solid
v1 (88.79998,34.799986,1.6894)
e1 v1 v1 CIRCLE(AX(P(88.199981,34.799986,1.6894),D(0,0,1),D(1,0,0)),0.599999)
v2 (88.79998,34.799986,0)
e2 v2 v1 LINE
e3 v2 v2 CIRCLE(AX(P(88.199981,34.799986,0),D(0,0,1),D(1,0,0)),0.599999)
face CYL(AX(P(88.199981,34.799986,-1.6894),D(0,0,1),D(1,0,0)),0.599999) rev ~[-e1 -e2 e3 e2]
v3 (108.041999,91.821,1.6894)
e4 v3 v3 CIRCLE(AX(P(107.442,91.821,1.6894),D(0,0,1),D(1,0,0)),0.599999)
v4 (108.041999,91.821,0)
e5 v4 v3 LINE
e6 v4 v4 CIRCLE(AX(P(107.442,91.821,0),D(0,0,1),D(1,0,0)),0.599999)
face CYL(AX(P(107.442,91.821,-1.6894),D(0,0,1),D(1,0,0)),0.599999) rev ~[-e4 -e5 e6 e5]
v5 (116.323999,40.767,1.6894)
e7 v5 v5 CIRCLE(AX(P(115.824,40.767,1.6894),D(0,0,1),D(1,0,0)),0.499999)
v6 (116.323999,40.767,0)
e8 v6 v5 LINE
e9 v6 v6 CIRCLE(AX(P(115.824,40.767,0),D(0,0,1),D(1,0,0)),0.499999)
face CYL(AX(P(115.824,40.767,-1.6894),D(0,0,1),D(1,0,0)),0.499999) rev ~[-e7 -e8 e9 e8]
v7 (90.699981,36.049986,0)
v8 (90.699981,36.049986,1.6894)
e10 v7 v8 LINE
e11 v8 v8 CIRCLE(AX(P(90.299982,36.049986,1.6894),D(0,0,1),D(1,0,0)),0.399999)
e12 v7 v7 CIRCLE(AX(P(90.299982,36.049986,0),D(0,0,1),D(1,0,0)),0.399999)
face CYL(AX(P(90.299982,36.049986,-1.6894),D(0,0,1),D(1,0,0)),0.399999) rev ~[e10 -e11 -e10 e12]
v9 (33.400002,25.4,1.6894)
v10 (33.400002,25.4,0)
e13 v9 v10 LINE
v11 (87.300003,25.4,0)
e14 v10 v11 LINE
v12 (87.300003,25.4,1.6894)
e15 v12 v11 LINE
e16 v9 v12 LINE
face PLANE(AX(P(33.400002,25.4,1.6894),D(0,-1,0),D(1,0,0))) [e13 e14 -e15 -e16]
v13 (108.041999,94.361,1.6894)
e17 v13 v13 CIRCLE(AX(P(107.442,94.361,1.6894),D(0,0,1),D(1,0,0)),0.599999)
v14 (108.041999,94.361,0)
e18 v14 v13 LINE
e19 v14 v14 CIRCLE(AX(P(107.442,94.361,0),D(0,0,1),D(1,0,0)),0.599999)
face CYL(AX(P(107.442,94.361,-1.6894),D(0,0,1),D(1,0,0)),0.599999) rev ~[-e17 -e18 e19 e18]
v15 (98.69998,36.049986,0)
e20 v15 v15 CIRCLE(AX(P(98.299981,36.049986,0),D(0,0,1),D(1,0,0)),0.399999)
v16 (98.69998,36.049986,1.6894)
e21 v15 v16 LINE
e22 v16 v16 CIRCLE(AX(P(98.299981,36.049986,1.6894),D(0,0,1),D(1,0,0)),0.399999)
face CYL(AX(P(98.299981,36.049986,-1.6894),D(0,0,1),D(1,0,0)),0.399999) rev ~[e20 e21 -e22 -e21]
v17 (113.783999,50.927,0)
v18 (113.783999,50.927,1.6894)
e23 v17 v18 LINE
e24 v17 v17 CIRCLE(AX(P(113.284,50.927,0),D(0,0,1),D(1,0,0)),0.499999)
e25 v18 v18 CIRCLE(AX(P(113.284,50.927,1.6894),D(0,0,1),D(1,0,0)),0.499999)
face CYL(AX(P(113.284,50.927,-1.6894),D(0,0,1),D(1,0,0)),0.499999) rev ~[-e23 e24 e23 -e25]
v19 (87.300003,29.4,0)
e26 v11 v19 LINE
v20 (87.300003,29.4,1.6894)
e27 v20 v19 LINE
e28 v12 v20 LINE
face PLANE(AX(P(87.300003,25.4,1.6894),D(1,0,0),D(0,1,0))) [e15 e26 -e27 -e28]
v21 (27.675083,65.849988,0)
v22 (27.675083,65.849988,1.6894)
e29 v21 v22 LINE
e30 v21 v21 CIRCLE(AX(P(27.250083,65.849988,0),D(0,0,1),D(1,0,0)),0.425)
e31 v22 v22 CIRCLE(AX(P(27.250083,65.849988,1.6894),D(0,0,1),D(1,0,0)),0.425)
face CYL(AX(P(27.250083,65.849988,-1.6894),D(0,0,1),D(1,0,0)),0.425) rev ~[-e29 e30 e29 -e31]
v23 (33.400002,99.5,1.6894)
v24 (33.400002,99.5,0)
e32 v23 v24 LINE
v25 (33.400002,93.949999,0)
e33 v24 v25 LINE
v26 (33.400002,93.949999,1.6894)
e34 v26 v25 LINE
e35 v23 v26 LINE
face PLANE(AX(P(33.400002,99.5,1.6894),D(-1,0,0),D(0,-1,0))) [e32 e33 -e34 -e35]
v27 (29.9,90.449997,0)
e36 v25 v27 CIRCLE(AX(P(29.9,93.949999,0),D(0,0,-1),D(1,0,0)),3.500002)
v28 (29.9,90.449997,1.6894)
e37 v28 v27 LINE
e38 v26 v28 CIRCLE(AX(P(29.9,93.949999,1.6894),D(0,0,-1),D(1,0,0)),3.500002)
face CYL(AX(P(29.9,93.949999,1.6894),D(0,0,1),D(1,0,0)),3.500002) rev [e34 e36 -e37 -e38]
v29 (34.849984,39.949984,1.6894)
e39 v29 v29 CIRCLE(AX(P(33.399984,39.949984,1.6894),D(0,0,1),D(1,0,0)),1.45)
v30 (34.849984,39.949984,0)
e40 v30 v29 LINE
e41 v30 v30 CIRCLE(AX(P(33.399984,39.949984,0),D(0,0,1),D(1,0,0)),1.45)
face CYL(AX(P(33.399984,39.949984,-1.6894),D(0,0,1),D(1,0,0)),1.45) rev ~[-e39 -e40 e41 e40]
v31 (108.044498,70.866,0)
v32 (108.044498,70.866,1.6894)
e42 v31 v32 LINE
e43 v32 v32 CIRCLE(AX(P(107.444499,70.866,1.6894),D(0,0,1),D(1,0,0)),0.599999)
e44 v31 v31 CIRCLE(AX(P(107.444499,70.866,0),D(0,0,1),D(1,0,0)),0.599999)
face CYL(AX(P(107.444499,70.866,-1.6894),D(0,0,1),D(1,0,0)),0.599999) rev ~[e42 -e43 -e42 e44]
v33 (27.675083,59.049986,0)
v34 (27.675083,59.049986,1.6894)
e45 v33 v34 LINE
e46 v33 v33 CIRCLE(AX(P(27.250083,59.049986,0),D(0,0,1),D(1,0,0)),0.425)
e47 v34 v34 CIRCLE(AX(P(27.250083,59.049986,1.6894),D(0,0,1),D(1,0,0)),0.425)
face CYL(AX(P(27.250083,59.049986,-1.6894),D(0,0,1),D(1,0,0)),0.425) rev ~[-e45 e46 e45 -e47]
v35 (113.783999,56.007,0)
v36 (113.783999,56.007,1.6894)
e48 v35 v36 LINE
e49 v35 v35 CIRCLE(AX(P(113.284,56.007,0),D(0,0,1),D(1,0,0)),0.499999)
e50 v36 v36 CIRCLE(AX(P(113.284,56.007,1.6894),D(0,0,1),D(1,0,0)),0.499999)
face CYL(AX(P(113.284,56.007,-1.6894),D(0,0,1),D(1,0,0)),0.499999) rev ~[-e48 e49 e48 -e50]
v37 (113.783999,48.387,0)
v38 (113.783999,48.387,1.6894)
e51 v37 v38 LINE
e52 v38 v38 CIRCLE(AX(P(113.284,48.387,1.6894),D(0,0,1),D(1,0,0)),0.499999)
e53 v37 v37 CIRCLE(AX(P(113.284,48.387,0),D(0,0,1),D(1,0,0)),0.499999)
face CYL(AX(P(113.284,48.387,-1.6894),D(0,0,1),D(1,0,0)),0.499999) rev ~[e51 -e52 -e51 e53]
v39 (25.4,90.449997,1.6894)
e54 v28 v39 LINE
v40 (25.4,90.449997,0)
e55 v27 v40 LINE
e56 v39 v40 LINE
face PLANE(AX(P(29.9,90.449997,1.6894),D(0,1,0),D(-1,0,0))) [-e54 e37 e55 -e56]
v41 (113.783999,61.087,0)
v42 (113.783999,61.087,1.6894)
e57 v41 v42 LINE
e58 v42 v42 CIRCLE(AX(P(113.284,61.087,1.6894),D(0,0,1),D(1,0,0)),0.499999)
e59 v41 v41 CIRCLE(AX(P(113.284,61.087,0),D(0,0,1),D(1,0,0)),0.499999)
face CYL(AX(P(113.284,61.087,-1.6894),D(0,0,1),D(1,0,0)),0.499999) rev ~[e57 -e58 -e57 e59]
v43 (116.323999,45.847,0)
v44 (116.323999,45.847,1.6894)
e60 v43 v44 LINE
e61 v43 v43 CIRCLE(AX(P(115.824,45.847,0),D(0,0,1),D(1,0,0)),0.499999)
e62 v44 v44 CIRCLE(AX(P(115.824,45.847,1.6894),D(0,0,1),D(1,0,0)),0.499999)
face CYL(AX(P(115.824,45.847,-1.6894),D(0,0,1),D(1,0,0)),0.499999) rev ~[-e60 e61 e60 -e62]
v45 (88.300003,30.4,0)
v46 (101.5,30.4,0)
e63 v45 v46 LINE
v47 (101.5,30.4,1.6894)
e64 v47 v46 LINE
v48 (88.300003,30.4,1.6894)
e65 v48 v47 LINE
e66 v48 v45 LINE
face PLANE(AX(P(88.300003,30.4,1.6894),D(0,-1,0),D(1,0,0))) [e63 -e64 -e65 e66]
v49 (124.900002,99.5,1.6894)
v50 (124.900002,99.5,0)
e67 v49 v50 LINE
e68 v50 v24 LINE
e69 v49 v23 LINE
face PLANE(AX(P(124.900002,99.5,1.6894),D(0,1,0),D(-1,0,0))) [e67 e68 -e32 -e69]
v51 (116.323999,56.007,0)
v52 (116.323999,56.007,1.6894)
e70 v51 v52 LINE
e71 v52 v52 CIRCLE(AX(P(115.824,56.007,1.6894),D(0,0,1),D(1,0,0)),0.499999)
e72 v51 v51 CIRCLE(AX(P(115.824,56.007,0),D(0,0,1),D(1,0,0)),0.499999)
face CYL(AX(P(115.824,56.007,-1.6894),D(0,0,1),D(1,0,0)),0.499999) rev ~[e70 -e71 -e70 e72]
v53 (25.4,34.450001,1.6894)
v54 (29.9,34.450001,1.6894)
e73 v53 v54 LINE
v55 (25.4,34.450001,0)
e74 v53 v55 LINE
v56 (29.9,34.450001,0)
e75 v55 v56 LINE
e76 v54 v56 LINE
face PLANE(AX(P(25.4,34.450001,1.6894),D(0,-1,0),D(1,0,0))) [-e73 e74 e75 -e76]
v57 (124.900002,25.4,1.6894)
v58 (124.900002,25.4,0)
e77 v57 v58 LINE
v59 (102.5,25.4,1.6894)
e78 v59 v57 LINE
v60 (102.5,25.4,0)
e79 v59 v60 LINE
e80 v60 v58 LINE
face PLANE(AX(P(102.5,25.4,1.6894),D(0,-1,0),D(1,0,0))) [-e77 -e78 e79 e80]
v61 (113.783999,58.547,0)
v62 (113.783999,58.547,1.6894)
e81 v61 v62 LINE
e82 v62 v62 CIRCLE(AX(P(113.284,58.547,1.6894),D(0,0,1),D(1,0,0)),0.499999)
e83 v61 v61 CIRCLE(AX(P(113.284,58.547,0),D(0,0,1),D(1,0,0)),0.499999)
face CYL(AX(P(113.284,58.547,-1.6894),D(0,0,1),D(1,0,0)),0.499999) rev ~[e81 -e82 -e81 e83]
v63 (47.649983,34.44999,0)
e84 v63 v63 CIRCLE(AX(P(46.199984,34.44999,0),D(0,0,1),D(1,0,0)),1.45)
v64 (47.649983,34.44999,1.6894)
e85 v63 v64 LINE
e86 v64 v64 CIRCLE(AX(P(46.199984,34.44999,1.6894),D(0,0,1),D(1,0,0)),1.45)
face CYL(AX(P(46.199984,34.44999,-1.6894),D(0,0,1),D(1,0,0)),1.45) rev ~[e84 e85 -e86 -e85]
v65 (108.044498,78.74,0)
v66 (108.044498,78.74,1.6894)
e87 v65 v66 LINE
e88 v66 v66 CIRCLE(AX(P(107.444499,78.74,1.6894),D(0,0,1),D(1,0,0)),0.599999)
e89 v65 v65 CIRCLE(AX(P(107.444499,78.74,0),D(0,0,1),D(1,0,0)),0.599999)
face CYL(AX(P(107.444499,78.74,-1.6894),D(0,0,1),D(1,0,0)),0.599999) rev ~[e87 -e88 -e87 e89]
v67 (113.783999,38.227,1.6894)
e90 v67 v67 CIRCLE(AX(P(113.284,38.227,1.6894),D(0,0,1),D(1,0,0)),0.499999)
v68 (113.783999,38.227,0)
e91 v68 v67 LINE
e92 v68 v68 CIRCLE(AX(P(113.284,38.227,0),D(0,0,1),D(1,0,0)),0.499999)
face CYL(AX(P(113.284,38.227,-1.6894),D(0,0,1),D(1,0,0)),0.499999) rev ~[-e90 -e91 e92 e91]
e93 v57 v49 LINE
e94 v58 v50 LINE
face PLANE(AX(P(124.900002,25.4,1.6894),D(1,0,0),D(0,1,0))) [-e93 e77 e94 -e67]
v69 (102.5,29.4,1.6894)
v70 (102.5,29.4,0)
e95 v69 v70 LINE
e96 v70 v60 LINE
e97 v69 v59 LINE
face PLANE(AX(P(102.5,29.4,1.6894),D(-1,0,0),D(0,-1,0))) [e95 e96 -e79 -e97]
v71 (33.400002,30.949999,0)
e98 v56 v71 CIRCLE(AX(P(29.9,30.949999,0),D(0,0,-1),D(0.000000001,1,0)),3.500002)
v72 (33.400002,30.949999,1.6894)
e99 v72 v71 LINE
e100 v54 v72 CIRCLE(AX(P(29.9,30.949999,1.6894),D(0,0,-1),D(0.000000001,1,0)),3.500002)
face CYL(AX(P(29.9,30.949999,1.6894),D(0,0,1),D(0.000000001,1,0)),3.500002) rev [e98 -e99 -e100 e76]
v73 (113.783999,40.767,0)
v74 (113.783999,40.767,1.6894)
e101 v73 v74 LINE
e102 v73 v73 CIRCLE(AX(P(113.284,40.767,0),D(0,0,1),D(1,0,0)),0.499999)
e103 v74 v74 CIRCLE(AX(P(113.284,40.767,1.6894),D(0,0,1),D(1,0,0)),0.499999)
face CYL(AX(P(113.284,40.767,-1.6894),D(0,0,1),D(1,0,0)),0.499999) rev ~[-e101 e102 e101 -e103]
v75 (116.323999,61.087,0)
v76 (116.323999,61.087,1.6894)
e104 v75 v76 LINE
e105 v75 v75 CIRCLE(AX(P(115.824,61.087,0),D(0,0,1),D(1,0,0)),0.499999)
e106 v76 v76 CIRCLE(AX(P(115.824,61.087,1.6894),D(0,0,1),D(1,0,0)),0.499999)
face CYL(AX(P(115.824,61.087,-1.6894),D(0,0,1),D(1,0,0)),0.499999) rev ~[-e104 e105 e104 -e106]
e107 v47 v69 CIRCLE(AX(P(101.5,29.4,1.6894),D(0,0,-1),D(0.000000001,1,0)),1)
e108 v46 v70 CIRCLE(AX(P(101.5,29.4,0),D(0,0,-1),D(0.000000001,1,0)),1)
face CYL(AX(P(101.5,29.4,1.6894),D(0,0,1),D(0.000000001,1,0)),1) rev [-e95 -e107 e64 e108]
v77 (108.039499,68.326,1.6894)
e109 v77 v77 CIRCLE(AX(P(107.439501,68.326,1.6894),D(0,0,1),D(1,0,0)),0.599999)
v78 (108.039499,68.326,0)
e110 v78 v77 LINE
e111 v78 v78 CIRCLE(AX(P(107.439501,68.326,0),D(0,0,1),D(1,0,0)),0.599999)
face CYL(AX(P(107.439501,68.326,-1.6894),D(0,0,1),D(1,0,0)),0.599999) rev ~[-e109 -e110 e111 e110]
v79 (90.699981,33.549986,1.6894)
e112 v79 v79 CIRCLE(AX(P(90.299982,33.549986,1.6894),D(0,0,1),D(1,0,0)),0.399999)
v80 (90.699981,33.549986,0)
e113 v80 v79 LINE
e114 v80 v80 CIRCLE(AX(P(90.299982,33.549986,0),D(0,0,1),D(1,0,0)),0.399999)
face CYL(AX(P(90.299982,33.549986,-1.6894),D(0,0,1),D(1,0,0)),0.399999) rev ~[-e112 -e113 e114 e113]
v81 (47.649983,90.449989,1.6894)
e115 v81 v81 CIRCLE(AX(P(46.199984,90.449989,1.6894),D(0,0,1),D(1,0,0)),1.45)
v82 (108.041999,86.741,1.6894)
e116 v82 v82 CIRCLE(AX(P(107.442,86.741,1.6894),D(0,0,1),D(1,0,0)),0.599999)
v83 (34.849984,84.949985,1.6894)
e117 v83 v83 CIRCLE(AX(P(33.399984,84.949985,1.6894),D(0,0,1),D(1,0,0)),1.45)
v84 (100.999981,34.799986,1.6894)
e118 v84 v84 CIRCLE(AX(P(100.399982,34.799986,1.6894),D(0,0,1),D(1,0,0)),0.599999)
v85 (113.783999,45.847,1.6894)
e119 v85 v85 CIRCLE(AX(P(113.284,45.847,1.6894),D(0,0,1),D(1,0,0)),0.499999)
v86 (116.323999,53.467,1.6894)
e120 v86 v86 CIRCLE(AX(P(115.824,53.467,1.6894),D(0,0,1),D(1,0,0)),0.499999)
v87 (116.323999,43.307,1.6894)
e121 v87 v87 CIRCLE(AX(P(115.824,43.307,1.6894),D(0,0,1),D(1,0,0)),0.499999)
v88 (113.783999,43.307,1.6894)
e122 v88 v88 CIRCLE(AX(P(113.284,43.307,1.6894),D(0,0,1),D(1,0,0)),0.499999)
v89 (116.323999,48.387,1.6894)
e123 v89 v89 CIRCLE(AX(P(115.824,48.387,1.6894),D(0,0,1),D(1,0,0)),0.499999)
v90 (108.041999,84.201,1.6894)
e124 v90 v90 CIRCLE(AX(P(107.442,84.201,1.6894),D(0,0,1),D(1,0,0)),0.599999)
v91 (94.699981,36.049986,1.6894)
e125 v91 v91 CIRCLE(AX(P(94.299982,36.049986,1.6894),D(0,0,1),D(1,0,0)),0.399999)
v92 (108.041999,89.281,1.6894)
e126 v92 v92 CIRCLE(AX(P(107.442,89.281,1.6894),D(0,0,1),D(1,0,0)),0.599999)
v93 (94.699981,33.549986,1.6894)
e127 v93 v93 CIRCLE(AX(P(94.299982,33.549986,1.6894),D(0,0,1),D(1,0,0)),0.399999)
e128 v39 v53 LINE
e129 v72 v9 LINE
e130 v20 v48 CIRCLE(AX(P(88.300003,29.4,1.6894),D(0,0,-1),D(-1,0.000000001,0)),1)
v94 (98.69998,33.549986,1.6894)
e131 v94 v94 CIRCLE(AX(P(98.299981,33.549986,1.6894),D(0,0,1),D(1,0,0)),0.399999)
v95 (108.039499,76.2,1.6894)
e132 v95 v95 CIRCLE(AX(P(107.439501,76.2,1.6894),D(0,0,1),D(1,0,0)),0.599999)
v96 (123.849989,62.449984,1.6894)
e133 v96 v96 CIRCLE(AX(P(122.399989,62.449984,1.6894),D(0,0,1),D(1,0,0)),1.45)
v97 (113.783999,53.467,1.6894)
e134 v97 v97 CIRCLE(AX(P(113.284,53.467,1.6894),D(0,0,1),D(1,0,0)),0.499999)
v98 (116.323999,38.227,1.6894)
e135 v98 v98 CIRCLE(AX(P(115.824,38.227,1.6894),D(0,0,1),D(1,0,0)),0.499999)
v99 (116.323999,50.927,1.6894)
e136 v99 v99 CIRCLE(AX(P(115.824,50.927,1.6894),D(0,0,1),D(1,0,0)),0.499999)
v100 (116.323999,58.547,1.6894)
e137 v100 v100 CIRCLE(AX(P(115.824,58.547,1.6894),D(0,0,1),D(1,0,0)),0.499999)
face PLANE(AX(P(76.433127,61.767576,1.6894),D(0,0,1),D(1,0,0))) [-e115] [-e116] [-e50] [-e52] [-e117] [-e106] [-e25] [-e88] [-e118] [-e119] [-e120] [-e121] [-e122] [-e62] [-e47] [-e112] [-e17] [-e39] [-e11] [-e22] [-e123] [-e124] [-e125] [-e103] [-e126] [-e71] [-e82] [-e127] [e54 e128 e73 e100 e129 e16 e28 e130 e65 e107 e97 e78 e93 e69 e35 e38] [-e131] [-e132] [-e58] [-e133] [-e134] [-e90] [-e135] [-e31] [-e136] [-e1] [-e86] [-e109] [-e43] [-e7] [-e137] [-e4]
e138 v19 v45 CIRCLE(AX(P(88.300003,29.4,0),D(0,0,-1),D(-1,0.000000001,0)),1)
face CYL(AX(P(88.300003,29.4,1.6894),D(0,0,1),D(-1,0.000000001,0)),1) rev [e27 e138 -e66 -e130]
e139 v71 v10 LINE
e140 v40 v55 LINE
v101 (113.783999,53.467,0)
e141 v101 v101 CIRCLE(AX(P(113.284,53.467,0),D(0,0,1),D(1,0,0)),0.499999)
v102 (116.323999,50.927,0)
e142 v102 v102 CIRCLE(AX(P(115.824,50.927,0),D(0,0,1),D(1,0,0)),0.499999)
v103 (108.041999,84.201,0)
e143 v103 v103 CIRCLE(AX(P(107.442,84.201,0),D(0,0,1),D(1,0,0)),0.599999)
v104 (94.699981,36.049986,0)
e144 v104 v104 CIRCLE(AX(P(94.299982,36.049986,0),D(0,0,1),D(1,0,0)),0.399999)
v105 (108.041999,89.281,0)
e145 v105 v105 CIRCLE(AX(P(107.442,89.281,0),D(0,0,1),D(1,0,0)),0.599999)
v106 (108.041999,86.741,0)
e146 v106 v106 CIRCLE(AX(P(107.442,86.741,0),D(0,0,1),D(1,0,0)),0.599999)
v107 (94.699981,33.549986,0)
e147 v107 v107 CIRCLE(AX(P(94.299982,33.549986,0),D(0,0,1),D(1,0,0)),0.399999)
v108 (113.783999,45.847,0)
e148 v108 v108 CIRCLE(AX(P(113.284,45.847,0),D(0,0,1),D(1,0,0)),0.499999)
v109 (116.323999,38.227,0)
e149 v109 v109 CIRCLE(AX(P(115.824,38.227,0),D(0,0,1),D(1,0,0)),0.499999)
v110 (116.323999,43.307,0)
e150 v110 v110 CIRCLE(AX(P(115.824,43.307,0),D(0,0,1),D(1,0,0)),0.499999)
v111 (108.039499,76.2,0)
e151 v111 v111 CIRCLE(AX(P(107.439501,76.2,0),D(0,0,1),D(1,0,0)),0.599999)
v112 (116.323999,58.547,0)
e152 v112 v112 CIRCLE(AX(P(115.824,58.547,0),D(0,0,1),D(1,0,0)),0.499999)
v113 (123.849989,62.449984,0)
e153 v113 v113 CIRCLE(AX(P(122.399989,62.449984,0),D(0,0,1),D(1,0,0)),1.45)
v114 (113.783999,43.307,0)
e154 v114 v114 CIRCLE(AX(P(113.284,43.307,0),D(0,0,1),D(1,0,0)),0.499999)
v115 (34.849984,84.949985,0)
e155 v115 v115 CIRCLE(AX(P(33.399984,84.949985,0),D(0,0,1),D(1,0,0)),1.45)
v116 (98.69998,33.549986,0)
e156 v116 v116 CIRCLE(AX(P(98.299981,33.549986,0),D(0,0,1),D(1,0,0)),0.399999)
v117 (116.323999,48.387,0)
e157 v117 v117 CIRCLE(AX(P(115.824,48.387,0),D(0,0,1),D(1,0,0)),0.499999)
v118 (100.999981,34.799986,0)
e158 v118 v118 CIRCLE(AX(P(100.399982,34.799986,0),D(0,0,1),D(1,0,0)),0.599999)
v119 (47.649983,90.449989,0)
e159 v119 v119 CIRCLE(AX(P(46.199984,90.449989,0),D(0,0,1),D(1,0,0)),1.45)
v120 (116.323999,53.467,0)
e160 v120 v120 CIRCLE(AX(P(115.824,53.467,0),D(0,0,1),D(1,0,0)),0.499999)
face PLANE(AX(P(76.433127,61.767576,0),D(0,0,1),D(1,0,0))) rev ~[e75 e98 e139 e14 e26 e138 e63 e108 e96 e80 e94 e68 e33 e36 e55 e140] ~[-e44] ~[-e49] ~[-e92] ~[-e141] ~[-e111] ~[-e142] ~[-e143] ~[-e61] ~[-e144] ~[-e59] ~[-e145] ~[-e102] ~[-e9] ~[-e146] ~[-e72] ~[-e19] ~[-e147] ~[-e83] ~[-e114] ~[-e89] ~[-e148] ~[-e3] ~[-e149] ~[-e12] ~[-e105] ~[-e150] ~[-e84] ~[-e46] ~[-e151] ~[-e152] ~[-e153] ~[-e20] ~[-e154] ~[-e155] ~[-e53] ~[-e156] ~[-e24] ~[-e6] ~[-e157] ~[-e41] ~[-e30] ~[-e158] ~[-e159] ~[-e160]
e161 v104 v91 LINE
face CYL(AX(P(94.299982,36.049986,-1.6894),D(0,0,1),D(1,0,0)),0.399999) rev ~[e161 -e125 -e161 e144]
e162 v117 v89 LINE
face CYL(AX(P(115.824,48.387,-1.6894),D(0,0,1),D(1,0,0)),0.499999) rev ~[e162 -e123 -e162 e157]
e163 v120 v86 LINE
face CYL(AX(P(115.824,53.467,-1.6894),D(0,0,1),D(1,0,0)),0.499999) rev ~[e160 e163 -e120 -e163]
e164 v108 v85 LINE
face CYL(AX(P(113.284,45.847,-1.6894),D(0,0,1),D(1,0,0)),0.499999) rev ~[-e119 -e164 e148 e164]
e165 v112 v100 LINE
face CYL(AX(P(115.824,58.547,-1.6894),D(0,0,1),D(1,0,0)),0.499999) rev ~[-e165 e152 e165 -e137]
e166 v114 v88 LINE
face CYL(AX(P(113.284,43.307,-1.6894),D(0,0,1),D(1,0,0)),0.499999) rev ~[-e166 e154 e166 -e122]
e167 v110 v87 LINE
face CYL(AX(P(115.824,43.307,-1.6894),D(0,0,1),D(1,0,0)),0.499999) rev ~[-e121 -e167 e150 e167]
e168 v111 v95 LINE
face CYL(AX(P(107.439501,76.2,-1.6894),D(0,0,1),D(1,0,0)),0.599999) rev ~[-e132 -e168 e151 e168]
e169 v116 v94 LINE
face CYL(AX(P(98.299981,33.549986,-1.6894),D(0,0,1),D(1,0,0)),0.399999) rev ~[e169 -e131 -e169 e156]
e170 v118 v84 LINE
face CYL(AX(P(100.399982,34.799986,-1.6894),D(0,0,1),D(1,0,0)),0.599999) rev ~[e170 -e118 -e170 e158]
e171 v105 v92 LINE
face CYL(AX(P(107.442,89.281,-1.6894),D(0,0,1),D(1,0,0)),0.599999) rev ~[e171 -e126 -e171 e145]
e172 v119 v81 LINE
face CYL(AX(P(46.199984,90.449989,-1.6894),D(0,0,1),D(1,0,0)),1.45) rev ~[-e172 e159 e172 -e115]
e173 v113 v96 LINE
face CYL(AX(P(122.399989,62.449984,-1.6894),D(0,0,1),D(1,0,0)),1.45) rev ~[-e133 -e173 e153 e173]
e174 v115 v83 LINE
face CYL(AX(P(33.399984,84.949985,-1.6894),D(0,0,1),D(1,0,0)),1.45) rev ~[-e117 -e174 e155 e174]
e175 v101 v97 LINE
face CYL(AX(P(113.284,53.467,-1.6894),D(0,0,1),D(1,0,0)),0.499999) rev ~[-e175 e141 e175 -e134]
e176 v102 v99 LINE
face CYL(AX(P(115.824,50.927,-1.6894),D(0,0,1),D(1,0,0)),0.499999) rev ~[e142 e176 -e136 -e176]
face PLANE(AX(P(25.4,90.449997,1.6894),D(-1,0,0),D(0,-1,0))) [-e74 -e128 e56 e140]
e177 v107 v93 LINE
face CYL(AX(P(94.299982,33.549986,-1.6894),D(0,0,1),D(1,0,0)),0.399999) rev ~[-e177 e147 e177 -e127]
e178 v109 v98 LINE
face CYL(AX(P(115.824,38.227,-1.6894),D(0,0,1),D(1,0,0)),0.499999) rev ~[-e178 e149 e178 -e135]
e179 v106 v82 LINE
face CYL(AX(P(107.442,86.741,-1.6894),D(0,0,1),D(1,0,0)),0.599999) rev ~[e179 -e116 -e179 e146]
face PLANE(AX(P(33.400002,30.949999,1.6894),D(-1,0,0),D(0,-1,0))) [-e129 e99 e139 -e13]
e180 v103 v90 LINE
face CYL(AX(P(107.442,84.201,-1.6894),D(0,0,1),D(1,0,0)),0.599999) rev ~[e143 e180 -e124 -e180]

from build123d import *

# Parameters (mm, degrees)
BOSS_EXTRUDE1_DEPTH          = 1.68939972
F_2_9_2_9_DIAMETER_HOLE1_D   = 2.89999928
HOLE1_D                      = 1.1999976
LPATTERN1_COUNT              = 2
LPATTERN1_PITCH              = 2.540004919
HOLE2_D                      = 0.999998
LPATTERN2_COUNT              = 2
LPATTERN2_PITCH              = 2.54
LPATTERN2_COUNT_DIR2         = 10
LPATTERN2_PITCH_DIR2         = 2.54
HOLE3_D                      = 1.1999976
LPATTERN3_COUNT              = 5
LPATTERN3_PITCH              = 2.54
F_2_9_2_9_DIAMETER_HOLE2_D   = 2.89999928
HOLE4_D                      = 1.1999976
LPATTERN4_COUNT              = 2
LPATTERN4_PITCH              = 2.540004919
F_0_85_0_85_DIAMETER_HOLE1_D = 0.85000084
HOLE5_D                      = 0.7999984
LPATTERN5_COUNT              = 3
LPATTERN5_PITCH              = 3.99999962
LPATTERN5_COUNT_DIR2         = 2
LPATTERN5_PITCH_DIR2         = 2.50000008
F_2_9_2_9_DIAMETER_HOLE3_D   = 2.89999928
F_2_9_2_9_DIAMETER_HOLE4_D   = 2.89999928
F_0_85_0_85_DIAMETER_HOLE2_D = 0.85000084
HOLE6_D                      = 1.1999976
LPATTERN6_COUNT              = 2
LPATTERN6_PITCH              = 12.200001
F_2_9_2_9_DIAMETER_HOLE5_D   = 2.89999928


with BuildPart() as part:
    # Sketch1 → Boss-Extrude1 (new body)
    with BuildSketch(Plane.XY.offset(1.68939972)):
        with BuildLine():
            Line((87.300003052, 25.399999619), (87.300003052, 29.399999619))
            ThreePointArc((87.300003052, 29.399999619), (87.592896271, 30.1071064), (88.300003052, 30.399999619))
            Line((88.300003052, 30.399999619), (101.5, 30.399999619))
            ThreePointArc((101.5, 30.399999619), (102.207106781, 30.1071064), (102.5, 29.399999619))
            Line((102.5, 29.399999619), (102.5, 25.399999619))
            Line((102.5, 25.399999619), (124.900001526, 25.399999619))
            Line((124.900001526, 25.399999619), (124.900001526, 99.5))
            Line((124.900001526, 99.5), (33.400001526, 99.5))
            Line((33.400001526, 99.5), (33.400001526, 93.949998856))
            ThreePointArc((33.400001526, 93.949998856), (32.374874701, 91.475123773), (29.899999619, 90.449996948))
            Line((29.899999619, 90.449996948), (25.399999619, 90.449996948))
            Line((25.399999619, 90.449996948), (25.399999619, 34.450000763))
            Line((25.399999619, 34.450000763), (29.899999619, 34.450000763))
            ThreePointArc((29.899999619, 34.450000763), (32.374874701, 33.424873938), (33.400001526, 30.949998856))
            Line((33.400001526, 30.949998856), (33.400001526, 25.399999619))
            Line((33.400001526, 25.399999619), (87.300003052, 25.399999619))
        make_face()
    extrude(amount=-BOSS_EXTRUDE1_DEPTH)

    # Ø2.9 (2.9) Diameter Hole1 (through all)
    with Locations(Plane(origin=(0, 0, 0), x_dir=(-1, 0, 0), z_dir=(0, 0, -1))):
        with Locations((-122.39998888, 62.44998432)):
            Hole(F_2_9_2_9_DIAMETER_HOLE1_D / 2)

    # Hole1 (through all)
    with Locations(Plane(origin=(0, 0, 0), x_dir=(-1, 0, 0), z_dir=(0, 0, -1))):
        with Locations((-107.44449936, 78.74)):
            hole1 = Hole(HOLE1_D / 2)

    # LPattern1: Hole1 ×2
    with Locations(*[Vector(-0.0019679961889539077, -0.9999980634936251, 0) * (i * LPATTERN1_PITCH) for i in range(1, LPATTERN1_COUNT)]):
        add(hole1, mode=Mode.SUBTRACT)

    # Hole2 (through all)
    with Locations(Plane(origin=(0, 0, 0), x_dir=(-1, 0, 0), z_dir=(0, 0, -1))):
        with Locations((-113.284, 38.227)):
            hole2 = Hole(HOLE2_D / 2)

    # LPattern2: Hole2 2 × 10
    with Locations(*[(i * LPATTERN2_PITCH, j * LPATTERN2_PITCH_DIR2, 0) for i in range(LPATTERN2_COUNT) for j in range(LPATTERN2_COUNT_DIR2) if (i, j) != (0, 0)]):
        add(hole2, mode=Mode.SUBTRACT)

    # Hole3 (through all)
    with Locations(Plane(origin=(0, 0, 0), x_dir=(-1, 0, 0), z_dir=(0, 0, -1))):
        with Locations((-107.442, 94.361)):
            hole3 = Hole(HOLE3_D / 2)

    # LPattern3: Hole3 ×5
    with Locations(*[(0, -i * LPATTERN3_PITCH, 0) for i in range(1, LPATTERN3_COUNT)]):
        add(hole3, mode=Mode.SUBTRACT)

    # Ø2.9 (2.9) Diameter Hole2 (through all)
    with Locations(Plane(origin=(0, 0, 0), x_dir=(-1, 0, 0), z_dir=(0, 0, -1))):
        with Locations((-33.399984, 84.94998504)):
            Hole(F_2_9_2_9_DIAMETER_HOLE2_D / 2)

    # Hole4 (through all)
    with Locations(Plane(origin=(0, 0, 0), x_dir=(-1, 0, 0), z_dir=(0, 0, -1))):
        with Locations((-107.43950064, 68.326)):
            hole4 = Hole(HOLE4_D / 2)

    # LPattern4: Hole4 ×2
    with Locations(*[Vector(0.001967996188953908, 0.9999980634936252, 0) * (i * LPATTERN4_PITCH) for i in range(1, LPATTERN4_COUNT)]):
        add(hole4, mode=Mode.SUBTRACT)

    # Ø0.85 (0.85) Diameter Hole1 (through all)
    with Locations(Plane(origin=(0, 0, 0), x_dir=(-1, 0, 0), z_dir=(0, 0, -1))):
        with Locations((-27.25008266, 65.84998768)):
            Hole(F_0_85_0_85_DIAMETER_HOLE1_D / 2)

    # Hole5 (through all)
    with Locations(Plane(origin=(0, 0, 0), x_dir=(-1, 0, 0), z_dir=(0, 0, -1))):
        with Locations((-90.29998196, 36.04998632)):
            hole5 = Hole(HOLE5_D / 2)

    # LPattern5: Hole5 3 × 2
    with Locations(*[(i * LPATTERN5_PITCH, -j * LPATTERN5_PITCH_DIR2, 0) for i in range(LPATTERN5_COUNT) for j in range(LPATTERN5_COUNT_DIR2) if (i, j) != (0, 0)]):
        add(hole5, mode=Mode.SUBTRACT)

    # Ø2.9 (2.9) Diameter Hole3 (through all)
    with Locations(Plane(origin=(0, 0, 0), x_dir=(-1, 0, 0), z_dir=(0, 0, -1))):
        with Locations((-33.399984, 39.9499836)):
            Hole(F_2_9_2_9_DIAMETER_HOLE3_D / 2)

    # Ø2.9 (2.9) Diameter Hole4 (through all)
    with Locations(Plane(origin=(0, 0, 0), x_dir=(-1, 0, 0), z_dir=(0, 0, -1))):
        with Locations((-46.1999838, 34.44998952)):
            Hole(F_2_9_2_9_DIAMETER_HOLE4_D / 2)

    # Ø0.85 (0.85) Diameter Hole2 (through all)
    with Locations(Plane(origin=(0, 0, 0), x_dir=(-1, 0, 0), z_dir=(0, 0, -1))):
        with Locations((-27.25008266, 59.04998604)):
            Hole(F_0_85_0_85_DIAMETER_HOLE2_D / 2)

    # Hole6 (through all)
    with Locations(Plane(origin=(0, 0, 0), x_dir=(-1, 0, 0), z_dir=(0, 0, -1))):
        with Locations((-88.19998108, 34.79998628)):
            hole6 = Hole(HOLE6_D / 2)

    # LPattern6: Hole6 ×2
    with Locations(*[(i * LPATTERN6_PITCH, 0, 0) for i in range(1, LPATTERN6_COUNT)]):
        add(hole6, mode=Mode.SUBTRACT)

    # Ø2.9 (2.9) Diameter Hole5 (through all)
    with Locations(Plane(origin=(0, 0, 0), x_dir=(-1, 0, 0), z_dir=(0, 0, -1))):
        with Locations((-46.1999838, 90.44998928)):
            Hole(F_2_9_2_9_DIAMETER_HOLE5_D / 2)


solid = part.part
